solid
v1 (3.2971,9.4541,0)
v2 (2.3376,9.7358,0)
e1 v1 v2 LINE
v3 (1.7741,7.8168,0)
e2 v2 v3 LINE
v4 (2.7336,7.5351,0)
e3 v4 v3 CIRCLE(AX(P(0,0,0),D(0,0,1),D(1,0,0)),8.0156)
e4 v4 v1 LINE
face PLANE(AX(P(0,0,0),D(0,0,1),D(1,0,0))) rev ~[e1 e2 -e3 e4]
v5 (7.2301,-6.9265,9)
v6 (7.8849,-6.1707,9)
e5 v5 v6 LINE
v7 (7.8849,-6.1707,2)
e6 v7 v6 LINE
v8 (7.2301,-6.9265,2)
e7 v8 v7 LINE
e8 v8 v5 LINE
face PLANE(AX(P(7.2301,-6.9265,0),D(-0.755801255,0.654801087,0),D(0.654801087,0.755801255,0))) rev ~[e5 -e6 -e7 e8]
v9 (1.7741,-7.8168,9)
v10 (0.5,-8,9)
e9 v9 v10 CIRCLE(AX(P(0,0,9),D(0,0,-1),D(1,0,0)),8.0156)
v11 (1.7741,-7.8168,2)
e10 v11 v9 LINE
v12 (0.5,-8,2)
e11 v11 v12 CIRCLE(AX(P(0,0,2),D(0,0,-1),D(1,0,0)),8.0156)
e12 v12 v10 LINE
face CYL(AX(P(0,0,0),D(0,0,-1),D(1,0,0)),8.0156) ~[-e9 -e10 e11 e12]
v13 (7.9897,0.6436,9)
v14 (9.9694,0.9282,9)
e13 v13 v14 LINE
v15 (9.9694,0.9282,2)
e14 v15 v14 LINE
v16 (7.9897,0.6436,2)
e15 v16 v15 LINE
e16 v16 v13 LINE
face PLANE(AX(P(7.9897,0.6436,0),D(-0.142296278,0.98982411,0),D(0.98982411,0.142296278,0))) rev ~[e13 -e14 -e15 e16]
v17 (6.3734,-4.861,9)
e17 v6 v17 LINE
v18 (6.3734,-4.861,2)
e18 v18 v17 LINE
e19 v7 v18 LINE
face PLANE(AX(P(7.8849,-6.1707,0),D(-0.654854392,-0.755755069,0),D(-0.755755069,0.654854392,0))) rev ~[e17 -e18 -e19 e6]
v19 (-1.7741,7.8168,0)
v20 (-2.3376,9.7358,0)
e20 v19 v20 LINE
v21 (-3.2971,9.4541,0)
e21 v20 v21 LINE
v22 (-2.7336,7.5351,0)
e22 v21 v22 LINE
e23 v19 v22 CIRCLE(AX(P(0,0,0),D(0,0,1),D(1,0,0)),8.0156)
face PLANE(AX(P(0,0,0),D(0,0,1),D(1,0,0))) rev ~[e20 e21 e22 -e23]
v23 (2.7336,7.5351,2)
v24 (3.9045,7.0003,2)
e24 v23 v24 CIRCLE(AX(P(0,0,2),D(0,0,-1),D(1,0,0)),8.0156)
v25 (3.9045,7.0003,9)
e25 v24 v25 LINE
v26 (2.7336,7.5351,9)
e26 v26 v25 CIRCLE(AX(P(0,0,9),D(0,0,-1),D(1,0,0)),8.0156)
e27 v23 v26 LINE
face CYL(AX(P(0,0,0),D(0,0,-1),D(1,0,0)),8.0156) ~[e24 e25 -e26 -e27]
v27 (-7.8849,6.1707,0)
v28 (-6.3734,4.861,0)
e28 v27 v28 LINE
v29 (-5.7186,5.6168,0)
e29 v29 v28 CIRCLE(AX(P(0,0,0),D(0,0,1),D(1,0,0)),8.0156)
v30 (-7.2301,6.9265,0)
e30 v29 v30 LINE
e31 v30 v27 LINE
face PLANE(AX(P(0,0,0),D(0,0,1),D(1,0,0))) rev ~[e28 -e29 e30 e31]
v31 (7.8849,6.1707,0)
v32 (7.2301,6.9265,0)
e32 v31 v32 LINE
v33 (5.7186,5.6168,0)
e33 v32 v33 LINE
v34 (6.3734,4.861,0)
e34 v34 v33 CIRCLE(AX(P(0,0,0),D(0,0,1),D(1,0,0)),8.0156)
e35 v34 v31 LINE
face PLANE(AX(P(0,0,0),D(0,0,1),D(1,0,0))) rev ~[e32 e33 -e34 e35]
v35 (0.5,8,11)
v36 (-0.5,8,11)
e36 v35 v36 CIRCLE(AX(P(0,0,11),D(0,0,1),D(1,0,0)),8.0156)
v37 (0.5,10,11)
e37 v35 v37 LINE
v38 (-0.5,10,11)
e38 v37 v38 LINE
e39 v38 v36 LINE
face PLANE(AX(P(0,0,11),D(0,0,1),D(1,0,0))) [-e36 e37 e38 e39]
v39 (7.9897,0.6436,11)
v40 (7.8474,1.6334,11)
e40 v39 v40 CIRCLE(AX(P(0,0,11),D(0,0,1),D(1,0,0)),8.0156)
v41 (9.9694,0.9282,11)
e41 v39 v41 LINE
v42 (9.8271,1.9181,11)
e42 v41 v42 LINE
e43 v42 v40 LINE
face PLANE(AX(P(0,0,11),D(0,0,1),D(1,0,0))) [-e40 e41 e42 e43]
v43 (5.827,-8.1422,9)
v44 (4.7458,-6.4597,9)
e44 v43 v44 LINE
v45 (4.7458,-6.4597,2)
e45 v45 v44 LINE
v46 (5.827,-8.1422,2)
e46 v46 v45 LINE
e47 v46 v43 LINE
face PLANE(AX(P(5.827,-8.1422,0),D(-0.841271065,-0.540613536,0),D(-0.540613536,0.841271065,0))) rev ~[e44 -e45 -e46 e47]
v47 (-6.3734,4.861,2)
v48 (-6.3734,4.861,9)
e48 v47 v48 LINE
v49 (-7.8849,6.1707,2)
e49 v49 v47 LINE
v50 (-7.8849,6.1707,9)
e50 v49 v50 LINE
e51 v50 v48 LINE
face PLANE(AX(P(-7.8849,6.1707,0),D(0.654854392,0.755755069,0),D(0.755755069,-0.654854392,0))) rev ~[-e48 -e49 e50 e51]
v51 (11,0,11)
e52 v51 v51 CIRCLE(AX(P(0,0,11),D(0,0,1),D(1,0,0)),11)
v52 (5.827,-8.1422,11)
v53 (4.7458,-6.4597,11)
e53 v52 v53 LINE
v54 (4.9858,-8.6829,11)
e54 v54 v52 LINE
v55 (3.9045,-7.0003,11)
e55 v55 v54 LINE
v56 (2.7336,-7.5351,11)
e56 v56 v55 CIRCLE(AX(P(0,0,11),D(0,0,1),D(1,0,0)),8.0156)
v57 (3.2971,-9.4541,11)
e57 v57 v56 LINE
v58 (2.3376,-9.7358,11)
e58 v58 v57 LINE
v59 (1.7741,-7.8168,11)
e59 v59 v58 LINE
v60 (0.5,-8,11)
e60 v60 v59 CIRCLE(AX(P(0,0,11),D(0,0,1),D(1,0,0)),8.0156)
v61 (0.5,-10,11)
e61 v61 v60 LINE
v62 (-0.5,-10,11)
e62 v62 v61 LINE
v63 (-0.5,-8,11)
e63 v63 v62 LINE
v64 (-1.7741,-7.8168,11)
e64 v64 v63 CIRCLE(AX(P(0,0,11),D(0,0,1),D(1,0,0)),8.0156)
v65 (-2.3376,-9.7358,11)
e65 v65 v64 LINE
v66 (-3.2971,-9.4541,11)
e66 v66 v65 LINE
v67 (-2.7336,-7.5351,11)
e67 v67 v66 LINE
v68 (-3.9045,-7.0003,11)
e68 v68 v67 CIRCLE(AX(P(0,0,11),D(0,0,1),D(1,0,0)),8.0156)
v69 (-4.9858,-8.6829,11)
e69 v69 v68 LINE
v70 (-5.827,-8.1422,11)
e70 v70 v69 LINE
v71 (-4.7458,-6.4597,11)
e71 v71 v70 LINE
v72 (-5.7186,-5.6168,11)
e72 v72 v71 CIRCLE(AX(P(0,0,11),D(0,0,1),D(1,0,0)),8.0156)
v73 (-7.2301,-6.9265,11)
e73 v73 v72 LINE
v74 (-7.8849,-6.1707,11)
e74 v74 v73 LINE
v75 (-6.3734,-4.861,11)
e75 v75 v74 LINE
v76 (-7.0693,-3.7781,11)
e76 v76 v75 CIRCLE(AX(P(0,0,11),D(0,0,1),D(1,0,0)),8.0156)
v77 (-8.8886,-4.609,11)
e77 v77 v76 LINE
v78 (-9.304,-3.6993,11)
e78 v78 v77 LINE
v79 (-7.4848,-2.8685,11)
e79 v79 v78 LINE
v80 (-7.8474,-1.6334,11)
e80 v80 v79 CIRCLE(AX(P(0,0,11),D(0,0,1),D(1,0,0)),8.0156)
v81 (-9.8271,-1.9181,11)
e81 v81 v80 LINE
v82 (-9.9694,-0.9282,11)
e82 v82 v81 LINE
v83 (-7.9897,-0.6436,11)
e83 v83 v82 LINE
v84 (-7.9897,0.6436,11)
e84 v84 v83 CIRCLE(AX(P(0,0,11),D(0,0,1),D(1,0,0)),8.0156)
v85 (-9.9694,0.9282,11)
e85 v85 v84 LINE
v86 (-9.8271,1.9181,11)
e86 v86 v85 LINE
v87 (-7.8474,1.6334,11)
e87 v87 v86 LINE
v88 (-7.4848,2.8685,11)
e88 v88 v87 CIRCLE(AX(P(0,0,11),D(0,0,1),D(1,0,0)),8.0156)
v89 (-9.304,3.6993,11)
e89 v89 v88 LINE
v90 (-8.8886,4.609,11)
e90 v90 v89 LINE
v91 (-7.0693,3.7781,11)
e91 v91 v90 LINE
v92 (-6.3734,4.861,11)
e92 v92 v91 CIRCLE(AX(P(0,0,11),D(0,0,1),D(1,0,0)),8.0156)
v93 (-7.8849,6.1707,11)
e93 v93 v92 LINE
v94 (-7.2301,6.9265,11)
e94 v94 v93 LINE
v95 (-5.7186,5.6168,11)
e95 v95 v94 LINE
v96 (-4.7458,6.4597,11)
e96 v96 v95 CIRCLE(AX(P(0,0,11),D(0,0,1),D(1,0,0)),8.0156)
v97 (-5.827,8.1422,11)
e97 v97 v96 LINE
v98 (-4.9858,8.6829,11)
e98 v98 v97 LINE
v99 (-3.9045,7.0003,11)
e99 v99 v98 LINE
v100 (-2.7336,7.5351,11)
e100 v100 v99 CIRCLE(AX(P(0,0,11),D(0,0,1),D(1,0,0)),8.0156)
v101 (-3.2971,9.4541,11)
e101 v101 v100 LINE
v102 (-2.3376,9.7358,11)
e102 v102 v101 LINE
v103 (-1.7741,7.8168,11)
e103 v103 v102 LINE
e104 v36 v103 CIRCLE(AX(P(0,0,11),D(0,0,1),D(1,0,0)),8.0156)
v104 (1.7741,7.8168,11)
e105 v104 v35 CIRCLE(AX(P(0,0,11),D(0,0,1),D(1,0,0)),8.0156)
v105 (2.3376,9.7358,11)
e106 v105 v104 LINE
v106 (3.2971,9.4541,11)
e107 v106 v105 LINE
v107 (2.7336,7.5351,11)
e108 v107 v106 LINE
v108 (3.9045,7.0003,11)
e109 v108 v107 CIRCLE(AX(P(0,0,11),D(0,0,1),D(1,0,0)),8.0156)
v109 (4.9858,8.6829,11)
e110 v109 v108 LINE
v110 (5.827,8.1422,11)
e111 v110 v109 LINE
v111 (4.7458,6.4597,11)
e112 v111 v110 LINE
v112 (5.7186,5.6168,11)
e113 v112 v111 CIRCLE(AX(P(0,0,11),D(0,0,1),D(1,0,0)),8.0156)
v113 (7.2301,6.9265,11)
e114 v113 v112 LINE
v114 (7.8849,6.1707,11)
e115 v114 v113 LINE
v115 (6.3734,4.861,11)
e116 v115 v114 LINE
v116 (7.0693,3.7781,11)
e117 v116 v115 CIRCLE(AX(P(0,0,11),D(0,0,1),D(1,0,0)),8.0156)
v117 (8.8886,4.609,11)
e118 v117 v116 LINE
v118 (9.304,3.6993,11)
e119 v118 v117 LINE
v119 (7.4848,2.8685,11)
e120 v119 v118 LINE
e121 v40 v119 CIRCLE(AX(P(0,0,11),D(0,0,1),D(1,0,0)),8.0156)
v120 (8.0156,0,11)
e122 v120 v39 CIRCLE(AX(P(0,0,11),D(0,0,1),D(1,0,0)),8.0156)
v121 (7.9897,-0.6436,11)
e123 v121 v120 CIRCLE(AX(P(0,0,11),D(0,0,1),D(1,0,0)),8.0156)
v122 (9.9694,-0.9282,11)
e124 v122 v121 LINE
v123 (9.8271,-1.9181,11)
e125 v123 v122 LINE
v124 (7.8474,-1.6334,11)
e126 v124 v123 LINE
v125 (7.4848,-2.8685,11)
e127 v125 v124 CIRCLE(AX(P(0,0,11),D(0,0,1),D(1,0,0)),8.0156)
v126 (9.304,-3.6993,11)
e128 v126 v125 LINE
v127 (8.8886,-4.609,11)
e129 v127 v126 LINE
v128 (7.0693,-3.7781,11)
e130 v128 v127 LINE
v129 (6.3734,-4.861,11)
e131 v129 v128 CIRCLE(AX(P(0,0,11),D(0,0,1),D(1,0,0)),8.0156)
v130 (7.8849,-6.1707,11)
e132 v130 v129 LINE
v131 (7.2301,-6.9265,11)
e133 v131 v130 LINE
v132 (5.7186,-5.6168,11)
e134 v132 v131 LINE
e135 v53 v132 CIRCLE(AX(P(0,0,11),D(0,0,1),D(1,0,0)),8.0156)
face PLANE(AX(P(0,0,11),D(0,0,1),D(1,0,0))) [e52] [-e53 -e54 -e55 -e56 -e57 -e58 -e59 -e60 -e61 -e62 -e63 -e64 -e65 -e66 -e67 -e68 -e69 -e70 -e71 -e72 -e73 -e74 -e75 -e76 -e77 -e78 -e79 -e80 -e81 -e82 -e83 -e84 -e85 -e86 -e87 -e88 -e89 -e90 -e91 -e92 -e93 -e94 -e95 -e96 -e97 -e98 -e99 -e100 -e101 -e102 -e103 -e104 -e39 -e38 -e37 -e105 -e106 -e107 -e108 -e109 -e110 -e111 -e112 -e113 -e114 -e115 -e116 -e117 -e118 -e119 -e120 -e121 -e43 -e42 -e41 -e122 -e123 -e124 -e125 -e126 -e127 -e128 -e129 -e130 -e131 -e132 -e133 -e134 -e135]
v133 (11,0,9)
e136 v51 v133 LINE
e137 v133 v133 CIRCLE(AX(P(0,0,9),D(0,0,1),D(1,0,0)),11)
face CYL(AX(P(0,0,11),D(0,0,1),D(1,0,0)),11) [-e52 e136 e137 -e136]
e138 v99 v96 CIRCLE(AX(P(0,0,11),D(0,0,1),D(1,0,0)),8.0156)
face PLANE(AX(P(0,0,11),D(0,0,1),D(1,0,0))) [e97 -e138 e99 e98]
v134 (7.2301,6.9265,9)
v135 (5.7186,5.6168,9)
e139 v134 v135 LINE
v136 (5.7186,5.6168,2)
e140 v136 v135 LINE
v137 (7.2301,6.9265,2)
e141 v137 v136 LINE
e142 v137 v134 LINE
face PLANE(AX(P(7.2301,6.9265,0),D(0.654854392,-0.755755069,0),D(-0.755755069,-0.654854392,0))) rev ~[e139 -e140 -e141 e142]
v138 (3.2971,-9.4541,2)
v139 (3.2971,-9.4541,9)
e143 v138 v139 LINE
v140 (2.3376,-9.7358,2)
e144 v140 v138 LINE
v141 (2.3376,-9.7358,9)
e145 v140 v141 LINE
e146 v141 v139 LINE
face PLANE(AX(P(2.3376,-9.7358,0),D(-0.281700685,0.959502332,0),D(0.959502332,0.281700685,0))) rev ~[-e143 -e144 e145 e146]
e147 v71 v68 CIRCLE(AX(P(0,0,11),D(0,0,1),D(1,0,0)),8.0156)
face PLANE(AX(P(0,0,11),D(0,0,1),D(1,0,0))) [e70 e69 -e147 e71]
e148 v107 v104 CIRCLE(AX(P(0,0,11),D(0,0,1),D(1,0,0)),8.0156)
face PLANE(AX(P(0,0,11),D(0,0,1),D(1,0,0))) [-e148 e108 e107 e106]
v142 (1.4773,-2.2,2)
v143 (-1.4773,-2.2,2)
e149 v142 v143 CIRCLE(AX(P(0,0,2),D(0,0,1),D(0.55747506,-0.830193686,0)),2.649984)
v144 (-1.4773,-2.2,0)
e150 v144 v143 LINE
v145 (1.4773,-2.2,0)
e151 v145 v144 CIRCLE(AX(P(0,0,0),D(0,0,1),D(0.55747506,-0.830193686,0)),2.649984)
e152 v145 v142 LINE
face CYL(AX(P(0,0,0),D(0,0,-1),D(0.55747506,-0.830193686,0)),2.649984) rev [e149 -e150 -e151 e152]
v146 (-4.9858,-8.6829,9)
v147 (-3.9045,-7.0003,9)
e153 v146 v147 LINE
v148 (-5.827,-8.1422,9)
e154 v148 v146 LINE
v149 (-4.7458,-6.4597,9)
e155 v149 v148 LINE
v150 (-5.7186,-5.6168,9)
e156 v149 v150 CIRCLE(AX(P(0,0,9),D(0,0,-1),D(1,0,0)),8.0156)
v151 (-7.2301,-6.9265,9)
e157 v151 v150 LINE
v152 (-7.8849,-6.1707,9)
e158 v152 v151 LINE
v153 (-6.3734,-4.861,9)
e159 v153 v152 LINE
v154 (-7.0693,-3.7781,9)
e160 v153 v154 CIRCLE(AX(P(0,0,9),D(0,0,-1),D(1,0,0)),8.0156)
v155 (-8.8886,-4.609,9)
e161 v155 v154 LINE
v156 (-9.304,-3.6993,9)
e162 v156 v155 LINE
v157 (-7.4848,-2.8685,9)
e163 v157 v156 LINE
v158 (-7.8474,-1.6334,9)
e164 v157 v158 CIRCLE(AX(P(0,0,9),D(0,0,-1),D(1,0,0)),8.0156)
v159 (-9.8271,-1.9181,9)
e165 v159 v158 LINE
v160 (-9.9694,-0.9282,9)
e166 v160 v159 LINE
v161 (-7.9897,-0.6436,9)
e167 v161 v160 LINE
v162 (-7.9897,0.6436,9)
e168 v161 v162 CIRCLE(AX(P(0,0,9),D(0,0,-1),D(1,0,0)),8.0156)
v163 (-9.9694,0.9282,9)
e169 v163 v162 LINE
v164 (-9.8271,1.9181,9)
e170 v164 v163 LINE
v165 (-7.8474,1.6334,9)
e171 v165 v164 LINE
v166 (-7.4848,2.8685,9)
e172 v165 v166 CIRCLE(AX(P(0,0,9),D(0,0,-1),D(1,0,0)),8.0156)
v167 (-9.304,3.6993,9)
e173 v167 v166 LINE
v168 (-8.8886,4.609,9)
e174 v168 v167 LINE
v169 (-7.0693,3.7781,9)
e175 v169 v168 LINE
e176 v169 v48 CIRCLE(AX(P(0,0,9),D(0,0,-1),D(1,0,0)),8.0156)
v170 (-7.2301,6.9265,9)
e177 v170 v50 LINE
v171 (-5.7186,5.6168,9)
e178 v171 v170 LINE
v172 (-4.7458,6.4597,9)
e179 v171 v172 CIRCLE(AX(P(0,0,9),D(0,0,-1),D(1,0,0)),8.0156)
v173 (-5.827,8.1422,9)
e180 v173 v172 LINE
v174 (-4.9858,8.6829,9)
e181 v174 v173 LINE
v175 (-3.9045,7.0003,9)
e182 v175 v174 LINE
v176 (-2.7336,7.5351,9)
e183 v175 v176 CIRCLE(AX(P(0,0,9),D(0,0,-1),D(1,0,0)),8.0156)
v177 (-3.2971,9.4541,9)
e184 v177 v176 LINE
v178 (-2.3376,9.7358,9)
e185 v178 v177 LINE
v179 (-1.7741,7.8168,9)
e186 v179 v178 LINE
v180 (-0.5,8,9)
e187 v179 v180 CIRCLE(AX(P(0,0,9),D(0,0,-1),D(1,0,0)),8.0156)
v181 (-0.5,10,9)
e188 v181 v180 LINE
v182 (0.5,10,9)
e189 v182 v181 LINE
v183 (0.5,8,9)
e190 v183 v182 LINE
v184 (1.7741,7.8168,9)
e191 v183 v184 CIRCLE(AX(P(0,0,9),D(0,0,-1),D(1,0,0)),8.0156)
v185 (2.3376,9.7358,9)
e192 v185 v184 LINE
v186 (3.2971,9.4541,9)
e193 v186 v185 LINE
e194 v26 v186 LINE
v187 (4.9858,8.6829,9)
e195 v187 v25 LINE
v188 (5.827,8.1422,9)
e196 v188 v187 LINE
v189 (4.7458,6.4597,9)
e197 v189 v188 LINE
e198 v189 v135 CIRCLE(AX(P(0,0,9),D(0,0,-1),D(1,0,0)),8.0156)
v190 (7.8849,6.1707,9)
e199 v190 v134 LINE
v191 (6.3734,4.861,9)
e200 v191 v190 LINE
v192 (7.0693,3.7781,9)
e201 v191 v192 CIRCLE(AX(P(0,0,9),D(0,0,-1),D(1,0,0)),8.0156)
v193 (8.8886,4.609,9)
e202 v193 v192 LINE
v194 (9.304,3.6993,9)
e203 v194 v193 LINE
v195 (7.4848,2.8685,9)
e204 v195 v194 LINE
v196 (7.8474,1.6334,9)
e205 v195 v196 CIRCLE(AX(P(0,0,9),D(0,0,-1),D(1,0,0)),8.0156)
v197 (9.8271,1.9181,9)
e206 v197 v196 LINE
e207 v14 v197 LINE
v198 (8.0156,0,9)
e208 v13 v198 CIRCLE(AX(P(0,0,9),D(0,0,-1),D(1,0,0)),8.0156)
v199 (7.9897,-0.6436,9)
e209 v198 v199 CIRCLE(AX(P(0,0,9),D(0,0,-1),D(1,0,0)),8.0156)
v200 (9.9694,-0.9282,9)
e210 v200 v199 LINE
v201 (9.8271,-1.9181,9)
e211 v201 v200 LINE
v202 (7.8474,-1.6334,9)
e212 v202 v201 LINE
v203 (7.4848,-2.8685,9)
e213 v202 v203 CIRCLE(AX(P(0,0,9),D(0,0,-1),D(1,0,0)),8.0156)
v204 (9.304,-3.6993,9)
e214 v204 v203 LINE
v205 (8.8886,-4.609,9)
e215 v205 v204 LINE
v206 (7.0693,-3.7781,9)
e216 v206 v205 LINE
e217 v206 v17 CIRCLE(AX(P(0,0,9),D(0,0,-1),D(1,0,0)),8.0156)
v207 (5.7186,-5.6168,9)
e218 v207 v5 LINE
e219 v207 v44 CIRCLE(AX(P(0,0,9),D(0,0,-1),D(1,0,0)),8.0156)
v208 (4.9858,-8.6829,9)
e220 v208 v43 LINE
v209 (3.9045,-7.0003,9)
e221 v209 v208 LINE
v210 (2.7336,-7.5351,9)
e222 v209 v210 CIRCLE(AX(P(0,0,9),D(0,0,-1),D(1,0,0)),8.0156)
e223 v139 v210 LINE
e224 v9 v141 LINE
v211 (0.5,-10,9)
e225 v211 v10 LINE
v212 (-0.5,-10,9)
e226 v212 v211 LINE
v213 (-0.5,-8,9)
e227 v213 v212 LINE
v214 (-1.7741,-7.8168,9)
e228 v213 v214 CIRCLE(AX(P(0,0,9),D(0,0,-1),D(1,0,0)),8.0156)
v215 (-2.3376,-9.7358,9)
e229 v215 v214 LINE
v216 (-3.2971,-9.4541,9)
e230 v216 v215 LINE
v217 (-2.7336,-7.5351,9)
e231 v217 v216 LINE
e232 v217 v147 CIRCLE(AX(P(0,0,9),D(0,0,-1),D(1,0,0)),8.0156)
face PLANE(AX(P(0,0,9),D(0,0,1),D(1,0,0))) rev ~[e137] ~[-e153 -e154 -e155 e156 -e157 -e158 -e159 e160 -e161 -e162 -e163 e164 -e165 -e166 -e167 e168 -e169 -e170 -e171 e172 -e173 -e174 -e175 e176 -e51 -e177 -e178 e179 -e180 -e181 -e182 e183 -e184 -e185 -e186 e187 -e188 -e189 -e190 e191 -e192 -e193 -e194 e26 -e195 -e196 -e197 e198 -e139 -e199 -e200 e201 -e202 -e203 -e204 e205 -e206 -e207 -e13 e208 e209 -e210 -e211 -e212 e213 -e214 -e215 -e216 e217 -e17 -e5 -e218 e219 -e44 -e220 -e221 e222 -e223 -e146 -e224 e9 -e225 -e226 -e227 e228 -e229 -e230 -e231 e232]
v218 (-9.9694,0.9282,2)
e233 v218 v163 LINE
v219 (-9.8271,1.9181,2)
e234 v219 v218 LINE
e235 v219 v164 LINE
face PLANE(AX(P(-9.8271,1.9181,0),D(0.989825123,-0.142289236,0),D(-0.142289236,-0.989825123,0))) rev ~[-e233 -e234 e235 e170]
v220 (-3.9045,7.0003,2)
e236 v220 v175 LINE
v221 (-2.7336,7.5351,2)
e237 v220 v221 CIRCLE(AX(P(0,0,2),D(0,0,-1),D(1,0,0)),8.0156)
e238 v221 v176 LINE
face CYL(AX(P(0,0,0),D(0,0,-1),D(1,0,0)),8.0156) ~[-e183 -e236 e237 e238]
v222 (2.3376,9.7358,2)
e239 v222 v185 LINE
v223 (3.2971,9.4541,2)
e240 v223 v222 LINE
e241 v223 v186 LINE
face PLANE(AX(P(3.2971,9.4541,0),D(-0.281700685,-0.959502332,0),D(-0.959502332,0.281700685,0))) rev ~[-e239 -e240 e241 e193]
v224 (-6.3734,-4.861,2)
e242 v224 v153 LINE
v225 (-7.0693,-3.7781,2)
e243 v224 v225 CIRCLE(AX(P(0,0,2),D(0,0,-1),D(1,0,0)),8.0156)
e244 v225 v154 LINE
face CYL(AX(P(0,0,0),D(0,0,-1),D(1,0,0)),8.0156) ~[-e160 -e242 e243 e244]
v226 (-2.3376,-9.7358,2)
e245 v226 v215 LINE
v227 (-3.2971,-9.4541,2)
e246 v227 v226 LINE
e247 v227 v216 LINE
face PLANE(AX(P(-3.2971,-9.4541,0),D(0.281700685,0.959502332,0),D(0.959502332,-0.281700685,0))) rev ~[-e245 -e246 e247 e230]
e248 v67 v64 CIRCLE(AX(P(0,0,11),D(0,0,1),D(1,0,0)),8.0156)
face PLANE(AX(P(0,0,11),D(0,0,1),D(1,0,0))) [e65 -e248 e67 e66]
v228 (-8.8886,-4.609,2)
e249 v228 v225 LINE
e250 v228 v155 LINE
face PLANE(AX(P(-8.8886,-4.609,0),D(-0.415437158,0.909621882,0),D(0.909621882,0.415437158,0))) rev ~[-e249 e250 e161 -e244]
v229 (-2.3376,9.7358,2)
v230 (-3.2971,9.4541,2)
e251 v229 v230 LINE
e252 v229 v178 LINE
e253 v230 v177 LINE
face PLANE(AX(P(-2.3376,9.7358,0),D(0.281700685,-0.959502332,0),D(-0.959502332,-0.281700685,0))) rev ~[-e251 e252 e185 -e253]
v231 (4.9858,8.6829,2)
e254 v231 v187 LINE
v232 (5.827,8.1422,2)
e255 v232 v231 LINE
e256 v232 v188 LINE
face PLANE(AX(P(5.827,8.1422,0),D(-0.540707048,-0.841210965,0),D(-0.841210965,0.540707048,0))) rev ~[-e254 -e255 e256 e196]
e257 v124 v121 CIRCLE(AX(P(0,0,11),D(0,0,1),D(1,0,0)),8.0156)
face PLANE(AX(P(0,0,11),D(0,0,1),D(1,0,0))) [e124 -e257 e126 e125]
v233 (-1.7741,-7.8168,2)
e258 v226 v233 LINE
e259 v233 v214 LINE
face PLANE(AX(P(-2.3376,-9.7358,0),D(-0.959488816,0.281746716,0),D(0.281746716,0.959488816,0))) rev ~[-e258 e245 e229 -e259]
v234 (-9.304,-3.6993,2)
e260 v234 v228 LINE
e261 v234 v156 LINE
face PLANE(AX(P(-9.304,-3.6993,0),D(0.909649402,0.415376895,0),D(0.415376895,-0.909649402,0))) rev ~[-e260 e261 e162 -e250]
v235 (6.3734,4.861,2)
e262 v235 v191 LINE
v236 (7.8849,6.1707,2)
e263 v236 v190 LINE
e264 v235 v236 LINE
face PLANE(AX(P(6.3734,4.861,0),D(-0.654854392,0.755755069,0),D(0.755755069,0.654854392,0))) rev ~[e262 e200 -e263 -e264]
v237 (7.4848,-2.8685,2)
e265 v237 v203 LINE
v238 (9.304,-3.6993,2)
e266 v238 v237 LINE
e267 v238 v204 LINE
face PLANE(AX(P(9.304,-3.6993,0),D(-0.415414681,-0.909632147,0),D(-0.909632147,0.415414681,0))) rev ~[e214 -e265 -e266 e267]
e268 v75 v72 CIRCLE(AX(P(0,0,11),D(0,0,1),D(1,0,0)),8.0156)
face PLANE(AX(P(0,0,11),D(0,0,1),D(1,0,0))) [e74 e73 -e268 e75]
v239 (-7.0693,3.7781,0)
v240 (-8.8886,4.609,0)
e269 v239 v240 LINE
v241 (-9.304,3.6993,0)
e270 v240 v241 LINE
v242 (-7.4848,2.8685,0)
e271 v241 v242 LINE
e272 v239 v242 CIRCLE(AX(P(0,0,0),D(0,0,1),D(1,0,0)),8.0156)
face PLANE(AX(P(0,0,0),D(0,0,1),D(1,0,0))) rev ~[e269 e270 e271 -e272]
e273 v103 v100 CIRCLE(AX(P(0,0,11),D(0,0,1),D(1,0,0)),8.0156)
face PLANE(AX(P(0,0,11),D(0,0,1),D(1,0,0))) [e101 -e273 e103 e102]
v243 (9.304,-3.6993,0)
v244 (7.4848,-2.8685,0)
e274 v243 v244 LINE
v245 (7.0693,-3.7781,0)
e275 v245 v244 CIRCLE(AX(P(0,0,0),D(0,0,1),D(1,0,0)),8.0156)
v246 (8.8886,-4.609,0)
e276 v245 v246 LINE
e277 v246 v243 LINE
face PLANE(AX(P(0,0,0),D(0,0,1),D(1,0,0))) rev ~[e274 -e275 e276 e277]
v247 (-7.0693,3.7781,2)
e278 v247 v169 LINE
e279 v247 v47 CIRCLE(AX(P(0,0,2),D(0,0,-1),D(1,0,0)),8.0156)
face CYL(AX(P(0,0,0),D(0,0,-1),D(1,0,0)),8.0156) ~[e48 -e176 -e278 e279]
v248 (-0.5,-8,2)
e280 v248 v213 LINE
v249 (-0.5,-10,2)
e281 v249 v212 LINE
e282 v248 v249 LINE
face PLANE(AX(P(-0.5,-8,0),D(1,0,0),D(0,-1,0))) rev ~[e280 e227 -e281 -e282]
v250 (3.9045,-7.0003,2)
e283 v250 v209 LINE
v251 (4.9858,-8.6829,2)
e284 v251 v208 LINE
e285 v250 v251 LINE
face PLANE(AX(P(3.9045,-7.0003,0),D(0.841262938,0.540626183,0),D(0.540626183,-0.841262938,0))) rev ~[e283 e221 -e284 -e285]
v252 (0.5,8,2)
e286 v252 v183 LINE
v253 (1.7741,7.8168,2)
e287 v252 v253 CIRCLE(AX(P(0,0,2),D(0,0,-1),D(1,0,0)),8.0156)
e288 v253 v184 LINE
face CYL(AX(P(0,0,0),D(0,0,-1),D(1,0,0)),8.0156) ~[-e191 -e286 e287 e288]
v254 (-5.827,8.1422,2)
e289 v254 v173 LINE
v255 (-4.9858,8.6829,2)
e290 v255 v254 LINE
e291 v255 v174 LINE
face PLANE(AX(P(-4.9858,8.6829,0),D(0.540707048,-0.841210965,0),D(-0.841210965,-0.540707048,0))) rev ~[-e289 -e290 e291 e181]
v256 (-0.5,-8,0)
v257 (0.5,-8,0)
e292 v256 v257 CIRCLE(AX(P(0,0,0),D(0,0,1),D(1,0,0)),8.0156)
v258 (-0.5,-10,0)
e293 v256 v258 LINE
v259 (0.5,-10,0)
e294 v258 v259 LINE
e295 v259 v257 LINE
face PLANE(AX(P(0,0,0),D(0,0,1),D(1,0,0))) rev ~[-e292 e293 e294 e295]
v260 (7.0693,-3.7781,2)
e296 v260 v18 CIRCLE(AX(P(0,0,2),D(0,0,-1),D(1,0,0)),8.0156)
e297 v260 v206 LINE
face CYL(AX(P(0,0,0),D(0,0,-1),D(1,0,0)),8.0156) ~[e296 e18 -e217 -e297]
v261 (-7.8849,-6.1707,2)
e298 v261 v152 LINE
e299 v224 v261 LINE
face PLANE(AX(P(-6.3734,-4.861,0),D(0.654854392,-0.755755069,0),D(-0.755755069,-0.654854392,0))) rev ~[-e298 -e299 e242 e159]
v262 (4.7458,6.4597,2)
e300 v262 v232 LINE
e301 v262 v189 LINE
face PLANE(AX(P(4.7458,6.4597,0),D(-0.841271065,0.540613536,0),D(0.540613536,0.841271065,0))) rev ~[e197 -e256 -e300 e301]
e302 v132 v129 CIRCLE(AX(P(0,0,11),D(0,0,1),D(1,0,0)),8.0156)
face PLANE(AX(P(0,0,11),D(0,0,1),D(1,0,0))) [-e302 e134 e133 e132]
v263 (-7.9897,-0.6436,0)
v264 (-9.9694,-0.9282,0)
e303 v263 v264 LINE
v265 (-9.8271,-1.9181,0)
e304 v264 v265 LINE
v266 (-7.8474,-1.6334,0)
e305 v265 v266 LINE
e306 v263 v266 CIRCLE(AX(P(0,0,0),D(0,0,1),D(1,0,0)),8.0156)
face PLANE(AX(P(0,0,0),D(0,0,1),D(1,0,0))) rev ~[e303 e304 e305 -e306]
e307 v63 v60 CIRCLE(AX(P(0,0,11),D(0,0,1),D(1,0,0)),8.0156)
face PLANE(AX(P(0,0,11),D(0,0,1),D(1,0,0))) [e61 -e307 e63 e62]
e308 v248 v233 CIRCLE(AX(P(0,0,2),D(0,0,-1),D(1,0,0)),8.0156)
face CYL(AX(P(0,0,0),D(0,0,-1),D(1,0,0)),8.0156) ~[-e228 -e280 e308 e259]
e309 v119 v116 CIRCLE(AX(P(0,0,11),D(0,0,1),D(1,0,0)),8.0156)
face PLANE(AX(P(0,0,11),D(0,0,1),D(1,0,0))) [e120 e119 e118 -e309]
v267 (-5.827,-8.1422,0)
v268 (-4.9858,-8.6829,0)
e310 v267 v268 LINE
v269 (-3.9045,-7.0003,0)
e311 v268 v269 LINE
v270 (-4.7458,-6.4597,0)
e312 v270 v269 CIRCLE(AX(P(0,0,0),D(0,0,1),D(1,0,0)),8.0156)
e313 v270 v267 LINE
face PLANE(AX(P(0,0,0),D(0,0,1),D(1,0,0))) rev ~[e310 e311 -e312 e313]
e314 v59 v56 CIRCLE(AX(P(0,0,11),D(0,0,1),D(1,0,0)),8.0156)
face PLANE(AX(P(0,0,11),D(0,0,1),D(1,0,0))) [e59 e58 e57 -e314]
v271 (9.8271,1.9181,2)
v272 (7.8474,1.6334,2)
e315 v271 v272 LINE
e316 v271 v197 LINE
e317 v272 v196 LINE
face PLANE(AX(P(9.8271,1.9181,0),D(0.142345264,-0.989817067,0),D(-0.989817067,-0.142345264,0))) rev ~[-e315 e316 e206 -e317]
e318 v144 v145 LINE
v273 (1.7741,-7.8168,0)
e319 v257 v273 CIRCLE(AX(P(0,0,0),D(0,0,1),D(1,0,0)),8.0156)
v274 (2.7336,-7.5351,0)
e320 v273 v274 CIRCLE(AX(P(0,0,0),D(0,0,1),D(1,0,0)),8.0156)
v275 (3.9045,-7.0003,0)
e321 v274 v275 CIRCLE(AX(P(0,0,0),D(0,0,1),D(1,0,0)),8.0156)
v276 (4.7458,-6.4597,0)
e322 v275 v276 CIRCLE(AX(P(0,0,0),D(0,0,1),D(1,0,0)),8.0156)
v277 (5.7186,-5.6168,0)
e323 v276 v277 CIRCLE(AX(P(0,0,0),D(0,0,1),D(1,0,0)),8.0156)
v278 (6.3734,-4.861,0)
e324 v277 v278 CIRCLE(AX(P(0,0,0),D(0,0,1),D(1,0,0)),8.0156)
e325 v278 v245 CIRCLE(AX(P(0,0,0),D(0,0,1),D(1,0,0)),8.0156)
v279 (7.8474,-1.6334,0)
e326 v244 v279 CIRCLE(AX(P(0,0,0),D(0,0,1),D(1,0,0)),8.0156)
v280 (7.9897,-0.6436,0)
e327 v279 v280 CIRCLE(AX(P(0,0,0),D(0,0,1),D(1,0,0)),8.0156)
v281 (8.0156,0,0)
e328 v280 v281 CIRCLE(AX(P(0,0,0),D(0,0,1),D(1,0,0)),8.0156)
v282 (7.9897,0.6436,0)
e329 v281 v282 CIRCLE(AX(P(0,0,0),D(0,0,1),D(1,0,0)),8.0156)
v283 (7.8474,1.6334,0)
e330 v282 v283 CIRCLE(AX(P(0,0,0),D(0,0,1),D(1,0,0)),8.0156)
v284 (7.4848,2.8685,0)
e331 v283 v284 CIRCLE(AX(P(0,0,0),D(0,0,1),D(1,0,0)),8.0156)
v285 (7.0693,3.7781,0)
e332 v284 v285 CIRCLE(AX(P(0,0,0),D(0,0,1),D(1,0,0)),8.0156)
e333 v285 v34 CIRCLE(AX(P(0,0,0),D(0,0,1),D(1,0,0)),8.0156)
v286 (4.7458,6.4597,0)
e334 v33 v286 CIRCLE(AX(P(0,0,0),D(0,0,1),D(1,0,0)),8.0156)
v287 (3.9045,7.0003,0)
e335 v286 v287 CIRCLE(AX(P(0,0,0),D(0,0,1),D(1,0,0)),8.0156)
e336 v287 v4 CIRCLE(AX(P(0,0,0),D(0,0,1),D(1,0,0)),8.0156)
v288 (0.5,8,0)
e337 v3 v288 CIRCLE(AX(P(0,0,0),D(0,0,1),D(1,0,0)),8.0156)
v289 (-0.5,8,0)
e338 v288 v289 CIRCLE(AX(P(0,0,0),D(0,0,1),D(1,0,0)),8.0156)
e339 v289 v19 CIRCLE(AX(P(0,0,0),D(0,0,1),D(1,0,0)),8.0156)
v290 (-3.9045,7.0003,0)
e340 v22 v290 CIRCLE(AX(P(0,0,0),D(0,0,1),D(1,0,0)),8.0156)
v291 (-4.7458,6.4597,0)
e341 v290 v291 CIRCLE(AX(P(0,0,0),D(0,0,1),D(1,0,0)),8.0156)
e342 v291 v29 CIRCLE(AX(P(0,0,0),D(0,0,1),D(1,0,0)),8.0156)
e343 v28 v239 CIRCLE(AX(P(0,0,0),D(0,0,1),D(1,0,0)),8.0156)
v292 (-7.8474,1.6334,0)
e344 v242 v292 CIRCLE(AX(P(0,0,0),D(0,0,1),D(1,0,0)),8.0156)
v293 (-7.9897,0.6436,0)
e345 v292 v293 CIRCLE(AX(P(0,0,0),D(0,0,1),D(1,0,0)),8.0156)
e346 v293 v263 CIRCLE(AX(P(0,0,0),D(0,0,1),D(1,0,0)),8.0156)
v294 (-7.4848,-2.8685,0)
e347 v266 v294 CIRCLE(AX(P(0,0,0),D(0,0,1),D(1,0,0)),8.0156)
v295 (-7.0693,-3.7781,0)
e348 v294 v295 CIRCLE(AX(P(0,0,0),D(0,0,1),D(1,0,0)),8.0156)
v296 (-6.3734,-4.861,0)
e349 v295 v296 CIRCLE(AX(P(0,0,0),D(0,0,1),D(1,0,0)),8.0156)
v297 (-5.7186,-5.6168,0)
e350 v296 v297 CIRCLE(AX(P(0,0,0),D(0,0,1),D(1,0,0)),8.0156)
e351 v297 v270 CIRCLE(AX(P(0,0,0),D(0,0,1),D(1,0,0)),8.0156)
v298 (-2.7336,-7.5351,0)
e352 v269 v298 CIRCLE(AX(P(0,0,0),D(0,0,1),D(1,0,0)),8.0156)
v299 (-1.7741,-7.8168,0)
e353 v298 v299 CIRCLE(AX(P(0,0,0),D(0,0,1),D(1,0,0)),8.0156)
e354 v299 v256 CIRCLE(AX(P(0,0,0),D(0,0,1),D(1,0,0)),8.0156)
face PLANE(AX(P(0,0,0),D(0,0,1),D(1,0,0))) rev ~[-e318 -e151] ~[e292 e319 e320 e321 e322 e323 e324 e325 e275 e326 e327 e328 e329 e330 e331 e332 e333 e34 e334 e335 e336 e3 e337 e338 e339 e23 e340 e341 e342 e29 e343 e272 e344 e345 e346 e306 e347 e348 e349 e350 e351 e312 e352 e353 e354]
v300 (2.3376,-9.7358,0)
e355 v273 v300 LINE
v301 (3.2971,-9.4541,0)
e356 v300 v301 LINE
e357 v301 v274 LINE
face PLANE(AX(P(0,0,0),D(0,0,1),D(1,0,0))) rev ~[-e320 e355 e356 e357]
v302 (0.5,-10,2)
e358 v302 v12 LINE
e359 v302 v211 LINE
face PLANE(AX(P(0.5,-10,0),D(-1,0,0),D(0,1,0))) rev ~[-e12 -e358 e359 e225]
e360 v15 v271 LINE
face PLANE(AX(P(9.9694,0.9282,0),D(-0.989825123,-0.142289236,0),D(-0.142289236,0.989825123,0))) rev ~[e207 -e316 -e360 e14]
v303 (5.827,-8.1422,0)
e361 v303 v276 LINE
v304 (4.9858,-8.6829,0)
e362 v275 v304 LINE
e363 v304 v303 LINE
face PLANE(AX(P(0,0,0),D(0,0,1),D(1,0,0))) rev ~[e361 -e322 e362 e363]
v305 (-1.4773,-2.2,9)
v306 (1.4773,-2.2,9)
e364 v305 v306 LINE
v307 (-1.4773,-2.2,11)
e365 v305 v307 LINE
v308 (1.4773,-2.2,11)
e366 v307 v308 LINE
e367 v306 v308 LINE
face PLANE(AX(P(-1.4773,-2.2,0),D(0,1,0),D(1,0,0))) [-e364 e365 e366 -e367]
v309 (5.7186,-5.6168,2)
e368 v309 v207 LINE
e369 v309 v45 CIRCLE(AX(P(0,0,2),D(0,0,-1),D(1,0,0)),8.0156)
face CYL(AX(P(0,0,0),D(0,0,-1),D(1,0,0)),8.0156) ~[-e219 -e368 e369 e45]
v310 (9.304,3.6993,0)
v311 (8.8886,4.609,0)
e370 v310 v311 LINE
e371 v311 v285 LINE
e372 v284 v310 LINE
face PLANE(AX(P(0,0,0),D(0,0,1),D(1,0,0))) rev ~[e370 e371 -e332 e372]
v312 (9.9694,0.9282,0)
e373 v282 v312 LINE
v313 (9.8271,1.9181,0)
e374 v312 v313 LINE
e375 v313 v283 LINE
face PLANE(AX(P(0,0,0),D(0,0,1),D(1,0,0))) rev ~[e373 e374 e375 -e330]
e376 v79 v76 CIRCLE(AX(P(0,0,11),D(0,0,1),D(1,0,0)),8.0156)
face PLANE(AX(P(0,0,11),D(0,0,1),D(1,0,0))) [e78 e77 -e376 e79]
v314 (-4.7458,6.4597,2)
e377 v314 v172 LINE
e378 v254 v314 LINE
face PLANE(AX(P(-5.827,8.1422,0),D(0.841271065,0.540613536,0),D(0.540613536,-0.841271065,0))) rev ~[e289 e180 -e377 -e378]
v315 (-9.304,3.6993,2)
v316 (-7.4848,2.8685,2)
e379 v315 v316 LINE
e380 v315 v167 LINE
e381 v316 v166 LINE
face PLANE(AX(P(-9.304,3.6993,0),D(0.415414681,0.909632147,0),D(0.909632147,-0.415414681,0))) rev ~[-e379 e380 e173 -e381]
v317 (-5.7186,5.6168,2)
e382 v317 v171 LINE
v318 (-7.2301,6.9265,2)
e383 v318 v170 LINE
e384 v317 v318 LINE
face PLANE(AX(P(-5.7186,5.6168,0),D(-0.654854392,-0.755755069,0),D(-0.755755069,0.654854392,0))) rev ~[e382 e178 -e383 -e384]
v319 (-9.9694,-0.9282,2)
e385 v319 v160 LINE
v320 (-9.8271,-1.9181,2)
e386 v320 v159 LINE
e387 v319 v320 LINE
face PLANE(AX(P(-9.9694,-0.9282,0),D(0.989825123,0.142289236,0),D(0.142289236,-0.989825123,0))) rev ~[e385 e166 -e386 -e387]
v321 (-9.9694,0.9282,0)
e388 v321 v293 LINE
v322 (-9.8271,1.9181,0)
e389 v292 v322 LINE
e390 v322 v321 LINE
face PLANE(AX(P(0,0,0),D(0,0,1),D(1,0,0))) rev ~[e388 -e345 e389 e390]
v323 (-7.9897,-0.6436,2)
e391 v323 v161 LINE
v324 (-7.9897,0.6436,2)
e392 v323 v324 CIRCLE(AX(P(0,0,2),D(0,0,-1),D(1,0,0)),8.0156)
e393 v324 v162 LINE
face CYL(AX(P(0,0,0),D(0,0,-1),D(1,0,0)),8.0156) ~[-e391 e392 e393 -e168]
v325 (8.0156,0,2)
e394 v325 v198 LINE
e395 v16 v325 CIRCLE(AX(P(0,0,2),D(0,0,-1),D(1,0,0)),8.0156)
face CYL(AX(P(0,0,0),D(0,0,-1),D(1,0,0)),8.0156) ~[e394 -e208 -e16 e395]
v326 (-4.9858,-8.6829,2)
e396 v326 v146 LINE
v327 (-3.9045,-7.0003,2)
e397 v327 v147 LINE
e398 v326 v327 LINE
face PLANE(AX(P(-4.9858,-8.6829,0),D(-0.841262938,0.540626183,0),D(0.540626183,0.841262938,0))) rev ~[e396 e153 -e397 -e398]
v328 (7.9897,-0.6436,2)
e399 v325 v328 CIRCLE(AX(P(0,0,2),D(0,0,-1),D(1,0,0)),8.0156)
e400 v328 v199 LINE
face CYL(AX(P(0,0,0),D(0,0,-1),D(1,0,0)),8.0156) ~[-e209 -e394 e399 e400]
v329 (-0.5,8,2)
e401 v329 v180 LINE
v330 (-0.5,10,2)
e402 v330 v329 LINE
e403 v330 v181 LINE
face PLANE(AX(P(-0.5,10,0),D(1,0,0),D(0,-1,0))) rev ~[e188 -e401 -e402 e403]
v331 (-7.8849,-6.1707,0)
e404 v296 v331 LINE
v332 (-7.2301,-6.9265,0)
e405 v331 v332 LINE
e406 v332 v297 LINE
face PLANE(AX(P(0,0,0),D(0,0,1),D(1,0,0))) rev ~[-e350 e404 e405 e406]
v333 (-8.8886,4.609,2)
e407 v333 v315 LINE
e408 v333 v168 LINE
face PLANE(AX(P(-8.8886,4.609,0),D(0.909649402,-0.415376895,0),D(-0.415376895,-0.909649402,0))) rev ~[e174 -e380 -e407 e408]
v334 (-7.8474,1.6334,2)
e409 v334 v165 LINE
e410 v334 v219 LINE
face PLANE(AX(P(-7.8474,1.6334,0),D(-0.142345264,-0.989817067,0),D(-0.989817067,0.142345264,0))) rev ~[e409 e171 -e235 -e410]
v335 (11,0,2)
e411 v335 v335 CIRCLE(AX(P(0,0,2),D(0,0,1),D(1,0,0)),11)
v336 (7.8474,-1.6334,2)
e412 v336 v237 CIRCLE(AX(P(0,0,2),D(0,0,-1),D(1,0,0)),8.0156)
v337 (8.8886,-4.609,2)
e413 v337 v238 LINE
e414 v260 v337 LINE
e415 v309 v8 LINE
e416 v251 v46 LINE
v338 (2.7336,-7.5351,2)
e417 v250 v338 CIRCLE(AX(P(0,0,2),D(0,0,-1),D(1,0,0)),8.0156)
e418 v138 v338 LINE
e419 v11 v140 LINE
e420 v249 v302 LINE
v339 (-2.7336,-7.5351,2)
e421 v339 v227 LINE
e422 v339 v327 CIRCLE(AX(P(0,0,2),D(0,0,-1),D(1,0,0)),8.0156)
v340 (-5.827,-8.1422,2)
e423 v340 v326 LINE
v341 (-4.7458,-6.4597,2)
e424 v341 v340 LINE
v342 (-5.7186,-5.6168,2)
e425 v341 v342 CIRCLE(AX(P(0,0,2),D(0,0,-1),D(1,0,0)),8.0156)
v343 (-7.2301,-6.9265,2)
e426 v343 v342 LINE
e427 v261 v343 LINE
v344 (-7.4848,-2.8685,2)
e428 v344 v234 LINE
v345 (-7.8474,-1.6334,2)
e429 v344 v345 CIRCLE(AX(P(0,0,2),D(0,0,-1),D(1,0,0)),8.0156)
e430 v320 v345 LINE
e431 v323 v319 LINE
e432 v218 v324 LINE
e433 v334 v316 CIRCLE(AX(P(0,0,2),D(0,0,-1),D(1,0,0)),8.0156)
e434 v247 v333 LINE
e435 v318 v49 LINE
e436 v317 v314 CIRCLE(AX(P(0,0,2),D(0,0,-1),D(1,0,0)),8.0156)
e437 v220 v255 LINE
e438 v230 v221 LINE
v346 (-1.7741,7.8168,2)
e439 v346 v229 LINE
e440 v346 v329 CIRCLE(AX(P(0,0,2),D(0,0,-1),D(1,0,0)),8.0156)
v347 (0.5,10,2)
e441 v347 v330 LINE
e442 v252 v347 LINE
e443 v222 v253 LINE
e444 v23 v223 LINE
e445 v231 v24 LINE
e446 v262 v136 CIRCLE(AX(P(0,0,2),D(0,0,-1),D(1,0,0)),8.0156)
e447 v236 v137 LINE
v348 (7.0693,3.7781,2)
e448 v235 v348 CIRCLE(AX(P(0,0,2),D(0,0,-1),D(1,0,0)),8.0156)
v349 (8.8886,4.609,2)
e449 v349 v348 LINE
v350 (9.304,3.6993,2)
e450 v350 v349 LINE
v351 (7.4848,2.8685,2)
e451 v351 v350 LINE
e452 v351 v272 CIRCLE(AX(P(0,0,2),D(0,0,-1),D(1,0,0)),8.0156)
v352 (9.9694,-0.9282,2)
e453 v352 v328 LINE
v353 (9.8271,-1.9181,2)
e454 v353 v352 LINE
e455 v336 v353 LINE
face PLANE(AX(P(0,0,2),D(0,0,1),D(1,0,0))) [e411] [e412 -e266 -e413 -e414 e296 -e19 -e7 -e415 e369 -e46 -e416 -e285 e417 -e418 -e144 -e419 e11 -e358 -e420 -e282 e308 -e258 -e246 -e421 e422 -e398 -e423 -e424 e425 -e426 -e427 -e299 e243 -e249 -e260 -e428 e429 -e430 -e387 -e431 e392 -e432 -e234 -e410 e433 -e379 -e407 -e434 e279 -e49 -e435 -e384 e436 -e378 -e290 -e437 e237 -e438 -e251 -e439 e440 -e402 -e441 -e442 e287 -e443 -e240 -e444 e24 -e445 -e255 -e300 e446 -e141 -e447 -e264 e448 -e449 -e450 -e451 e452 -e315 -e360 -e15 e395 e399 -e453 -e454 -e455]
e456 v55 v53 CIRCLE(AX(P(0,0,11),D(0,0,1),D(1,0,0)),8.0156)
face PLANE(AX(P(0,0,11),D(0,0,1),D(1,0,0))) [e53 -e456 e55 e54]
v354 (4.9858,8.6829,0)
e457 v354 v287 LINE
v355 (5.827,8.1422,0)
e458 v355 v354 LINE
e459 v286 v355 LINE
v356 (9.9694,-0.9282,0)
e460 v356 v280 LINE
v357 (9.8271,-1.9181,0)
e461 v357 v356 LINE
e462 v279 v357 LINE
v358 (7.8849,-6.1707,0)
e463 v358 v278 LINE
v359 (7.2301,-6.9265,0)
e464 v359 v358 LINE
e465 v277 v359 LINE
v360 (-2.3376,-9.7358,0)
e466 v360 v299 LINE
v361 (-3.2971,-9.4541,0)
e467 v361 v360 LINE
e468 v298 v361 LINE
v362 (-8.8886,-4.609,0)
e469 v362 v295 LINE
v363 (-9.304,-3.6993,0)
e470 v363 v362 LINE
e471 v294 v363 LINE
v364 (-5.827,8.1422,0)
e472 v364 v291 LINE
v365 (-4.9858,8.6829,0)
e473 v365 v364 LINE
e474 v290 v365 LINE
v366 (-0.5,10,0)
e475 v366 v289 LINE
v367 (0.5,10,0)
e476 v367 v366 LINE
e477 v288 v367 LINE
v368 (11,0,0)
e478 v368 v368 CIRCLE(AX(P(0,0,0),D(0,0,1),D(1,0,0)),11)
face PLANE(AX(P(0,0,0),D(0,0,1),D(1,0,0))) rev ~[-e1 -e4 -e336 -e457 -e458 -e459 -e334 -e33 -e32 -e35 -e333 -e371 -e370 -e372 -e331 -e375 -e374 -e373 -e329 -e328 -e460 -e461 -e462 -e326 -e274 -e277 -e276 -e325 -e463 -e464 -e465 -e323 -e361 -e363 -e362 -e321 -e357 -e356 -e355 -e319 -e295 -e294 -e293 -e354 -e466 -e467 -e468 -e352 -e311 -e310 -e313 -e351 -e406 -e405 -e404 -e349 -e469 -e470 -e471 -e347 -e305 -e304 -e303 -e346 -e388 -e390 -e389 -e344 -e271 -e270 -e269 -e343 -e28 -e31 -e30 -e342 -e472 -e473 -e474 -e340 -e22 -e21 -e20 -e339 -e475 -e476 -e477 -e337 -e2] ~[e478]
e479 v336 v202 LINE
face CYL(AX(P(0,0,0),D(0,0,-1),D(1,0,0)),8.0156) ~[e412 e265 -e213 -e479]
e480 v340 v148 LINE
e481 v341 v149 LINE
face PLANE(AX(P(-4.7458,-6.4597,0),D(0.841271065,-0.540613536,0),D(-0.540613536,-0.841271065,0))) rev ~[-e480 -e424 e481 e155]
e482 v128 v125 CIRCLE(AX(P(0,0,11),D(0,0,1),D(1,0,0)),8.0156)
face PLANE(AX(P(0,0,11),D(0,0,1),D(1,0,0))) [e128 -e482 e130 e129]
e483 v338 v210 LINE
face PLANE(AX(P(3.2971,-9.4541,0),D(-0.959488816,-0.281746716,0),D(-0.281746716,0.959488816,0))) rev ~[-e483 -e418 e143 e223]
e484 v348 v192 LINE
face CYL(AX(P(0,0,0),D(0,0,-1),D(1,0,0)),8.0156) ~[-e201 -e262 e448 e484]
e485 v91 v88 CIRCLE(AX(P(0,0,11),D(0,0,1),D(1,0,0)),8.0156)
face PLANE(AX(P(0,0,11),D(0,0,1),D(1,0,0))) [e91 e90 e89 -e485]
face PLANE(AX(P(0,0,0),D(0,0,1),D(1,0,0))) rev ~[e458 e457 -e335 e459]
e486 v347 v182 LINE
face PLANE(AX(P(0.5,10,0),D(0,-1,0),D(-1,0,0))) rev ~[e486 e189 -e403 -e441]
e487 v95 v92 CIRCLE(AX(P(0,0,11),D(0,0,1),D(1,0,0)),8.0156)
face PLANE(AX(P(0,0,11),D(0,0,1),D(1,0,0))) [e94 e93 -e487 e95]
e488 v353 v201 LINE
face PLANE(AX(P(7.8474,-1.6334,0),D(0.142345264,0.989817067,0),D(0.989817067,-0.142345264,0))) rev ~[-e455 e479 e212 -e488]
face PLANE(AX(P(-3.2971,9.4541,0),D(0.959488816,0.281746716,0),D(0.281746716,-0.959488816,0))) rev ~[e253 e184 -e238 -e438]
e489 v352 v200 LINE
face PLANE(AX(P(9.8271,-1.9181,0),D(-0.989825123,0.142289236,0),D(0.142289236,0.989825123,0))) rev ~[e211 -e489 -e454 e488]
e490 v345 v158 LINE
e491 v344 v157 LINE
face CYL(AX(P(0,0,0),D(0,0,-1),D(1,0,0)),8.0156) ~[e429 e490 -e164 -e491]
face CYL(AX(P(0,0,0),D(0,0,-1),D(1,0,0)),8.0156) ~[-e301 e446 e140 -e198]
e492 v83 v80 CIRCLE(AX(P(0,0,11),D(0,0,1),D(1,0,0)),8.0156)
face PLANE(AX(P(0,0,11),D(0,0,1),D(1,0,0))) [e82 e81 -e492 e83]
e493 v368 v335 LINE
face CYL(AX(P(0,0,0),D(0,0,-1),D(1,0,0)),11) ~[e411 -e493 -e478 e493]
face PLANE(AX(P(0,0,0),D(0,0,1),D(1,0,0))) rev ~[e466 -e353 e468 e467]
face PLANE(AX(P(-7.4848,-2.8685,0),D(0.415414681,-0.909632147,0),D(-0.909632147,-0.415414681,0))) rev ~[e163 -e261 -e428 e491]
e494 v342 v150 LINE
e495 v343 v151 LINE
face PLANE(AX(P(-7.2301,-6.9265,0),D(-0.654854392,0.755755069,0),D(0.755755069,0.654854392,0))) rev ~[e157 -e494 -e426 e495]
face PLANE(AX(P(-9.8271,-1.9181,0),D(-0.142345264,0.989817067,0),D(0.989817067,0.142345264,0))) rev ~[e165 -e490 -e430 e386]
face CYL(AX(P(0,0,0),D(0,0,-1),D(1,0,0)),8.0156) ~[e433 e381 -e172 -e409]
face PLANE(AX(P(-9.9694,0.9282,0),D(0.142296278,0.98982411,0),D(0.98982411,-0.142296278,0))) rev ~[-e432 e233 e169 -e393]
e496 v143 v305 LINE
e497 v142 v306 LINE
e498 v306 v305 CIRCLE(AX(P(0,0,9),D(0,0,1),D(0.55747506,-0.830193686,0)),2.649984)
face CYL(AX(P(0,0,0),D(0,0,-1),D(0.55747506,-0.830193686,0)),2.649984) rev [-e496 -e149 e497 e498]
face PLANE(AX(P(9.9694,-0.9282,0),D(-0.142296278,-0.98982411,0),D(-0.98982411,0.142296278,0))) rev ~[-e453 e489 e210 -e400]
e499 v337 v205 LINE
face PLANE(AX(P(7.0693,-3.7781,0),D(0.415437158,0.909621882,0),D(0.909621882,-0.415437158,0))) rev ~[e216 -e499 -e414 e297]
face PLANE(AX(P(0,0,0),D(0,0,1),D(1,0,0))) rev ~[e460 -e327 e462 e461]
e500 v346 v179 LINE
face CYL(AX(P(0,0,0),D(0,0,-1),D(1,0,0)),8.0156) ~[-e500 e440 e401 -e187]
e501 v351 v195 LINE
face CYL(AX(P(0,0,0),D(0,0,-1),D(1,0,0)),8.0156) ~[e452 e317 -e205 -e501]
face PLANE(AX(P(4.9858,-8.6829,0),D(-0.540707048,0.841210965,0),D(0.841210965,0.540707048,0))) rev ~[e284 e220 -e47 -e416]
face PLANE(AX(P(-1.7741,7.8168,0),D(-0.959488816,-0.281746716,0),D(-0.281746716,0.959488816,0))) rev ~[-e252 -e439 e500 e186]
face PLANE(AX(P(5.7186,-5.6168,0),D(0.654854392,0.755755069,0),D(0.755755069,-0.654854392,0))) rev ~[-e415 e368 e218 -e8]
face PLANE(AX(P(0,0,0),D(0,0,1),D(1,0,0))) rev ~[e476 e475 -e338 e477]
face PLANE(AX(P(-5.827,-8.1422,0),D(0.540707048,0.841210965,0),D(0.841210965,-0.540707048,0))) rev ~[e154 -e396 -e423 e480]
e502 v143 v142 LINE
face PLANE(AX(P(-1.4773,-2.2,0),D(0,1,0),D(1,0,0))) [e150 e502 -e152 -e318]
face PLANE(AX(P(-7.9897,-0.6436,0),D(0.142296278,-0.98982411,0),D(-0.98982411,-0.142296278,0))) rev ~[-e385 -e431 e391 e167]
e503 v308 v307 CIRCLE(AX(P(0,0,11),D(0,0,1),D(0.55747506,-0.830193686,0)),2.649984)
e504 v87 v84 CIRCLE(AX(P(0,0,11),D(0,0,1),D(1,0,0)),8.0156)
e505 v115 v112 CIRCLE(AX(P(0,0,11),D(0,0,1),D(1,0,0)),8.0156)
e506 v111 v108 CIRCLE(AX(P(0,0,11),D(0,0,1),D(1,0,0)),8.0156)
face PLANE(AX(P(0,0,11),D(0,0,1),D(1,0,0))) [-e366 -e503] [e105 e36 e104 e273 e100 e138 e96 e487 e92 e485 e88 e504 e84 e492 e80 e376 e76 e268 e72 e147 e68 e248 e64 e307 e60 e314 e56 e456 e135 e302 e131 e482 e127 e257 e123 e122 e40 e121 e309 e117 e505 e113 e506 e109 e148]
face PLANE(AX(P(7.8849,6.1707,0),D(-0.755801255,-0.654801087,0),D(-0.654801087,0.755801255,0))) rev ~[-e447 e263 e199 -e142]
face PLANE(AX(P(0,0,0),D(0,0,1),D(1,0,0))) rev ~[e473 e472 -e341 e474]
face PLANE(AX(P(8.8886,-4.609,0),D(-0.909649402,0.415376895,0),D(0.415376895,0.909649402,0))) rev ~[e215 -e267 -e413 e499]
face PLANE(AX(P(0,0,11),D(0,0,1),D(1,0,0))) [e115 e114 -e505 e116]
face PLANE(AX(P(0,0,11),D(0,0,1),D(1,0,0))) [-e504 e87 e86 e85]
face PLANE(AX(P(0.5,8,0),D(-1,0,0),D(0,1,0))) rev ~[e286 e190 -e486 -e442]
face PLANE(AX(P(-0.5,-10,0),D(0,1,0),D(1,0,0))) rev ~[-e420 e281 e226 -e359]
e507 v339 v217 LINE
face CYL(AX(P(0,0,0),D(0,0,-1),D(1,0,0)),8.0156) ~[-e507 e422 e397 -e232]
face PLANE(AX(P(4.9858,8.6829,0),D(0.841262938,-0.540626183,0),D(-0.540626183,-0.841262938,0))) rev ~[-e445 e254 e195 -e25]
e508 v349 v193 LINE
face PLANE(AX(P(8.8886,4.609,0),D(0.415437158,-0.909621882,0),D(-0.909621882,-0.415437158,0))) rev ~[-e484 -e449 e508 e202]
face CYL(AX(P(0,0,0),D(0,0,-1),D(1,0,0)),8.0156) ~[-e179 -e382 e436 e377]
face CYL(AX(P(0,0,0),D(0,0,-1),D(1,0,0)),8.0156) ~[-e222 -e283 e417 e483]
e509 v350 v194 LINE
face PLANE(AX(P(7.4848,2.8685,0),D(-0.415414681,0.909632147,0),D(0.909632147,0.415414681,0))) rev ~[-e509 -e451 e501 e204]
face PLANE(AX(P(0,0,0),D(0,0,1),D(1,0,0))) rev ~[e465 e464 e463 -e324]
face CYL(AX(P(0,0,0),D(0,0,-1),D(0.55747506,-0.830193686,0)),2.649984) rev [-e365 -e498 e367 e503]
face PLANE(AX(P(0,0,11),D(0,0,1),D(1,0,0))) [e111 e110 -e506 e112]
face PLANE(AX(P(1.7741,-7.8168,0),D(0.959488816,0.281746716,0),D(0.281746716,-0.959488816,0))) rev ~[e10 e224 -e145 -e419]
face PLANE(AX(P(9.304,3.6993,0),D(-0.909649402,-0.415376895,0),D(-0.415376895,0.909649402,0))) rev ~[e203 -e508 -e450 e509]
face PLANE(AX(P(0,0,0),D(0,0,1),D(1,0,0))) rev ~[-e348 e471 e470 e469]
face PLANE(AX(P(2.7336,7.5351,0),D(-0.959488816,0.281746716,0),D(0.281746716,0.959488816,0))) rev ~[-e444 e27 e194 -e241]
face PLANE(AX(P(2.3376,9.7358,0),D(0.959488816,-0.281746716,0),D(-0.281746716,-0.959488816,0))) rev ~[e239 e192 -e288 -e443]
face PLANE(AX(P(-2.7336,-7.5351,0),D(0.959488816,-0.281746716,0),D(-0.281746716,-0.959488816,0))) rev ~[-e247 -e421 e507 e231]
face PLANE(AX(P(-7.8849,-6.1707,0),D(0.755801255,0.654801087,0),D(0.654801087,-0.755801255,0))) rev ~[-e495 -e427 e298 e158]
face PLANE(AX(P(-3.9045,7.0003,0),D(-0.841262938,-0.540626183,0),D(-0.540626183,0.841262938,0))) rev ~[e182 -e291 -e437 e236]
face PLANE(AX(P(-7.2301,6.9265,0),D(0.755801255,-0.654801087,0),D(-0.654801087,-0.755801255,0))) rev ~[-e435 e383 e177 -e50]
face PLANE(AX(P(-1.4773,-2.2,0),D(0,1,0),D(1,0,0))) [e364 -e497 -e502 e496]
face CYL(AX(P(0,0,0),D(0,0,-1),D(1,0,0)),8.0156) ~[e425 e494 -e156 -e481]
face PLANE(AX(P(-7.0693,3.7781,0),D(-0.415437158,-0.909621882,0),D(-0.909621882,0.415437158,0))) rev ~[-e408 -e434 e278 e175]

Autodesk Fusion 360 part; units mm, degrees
sketch "Sketch1" plane through (0, 0, 0) normal (0, 0, 1) x (1, 0, 0)
  line L0 (0, 0) -> (0, 10) construction
  line L1 (0.5, 8) -> (0.5, 10)
  line L2 (0.5, 10) -> (-0.5, 10)
  line L3 (-0.5, 10) -> (-0.5, 8)
  circle A0 centre (0, 0) radius 8.0156
  line L4 (-3.2971, 9.4541) -> (-2.7336, 7.5351)
  line L5 (-2.3376, 9.7358) -> (-3.2971, 9.4541)
  line L6 (-1.7741, 7.8168) -> (-2.3376, 9.7358)
  line L7 (-5.827, 8.1422) -> (-4.7458, 6.4597)
  line L8 (-4.9858, 8.6829) -> (-5.827, 8.1422)
  line L9 (-3.9045, 7.0003) -> (-4.9858, 8.6829)
  line L10 (-7.8849, 6.1707) -> (-6.3734, 4.861)
  line L11 (-7.2301, 6.9265) -> (-7.8849, 6.1707)
  line L12 (-5.7186, 5.6168) -> (-7.2301, 6.9265)
  line L13 (-9.304, 3.6993) -> (-7.4848, 2.8685)
  line L14 (-8.8886, 4.609) -> (-9.304, 3.6993)
  line L15 (-7.0693, 3.7781) -> (-8.8886, 4.609)
  line L16 (-9.9694, 0.9282) -> (-7.9897, 0.6436)
  line L17 (-9.8271, 1.9181) -> (-9.9694, 0.9282)
  line L18 (-7.8474, 1.6334) -> (-9.8271, 1.9181)
  line L19 (-9.8271, -1.9181) -> (-7.8474, -1.6334)
  line L20 (-9.9694, -0.9282) -> (-9.8271, -1.9181)
  line L21 (-7.9897, -0.6436) -> (-9.9694, -0.9282)
  line L22 (-8.8886, -4.609) -> (-7.0693, -3.7781)
  line L23 (-9.304, -3.6993) -> (-8.8886, -4.609)
  line L24 (-7.4848, -2.8685) -> (-9.304, -3.6993)
  line L25 (-7.2301, -6.9265) -> (-5.7186, -5.6168)
  line L26 (-7.8849, -6.1707) -> (-7.2301, -6.9265)
  line L27 (-6.3734, -4.861) -> (-7.8849, -6.1707)
  line L28 (-4.9858, -8.6829) -> (-3.9045, -7.0003)
  line L29 (-5.827, -8.1422) -> (-4.9858, -8.6829)
  line L30 (-4.7458, -6.4597) -> (-5.827, -8.1422)
  line L31 (-2.3376, -9.7358) -> (-1.7741, -7.8168)
  line L32 (-3.2971, -9.4541) -> (-2.3376, -9.7358)
  line L33 (-2.7336, -7.5351) -> (-3.2971, -9.4541)
  line L34 (0.5, -10) -> (0.5, -8)
  line L35 (-0.5, -10) -> (0.5, -10)
  line L36 (-0.5, -8) -> (-0.5, -10)
  line L37 (3.2971, -9.4541) -> (2.7336, -7.5351)
  line L38 (2.3376, -9.7358) -> (3.2971, -9.4541)
  line L39 (1.7741, -7.8168) -> (2.3376, -9.7358)
  line L40 (5.827, -8.1422) -> (4.7458, -6.4597)
  line L41 (4.9858, -8.6829) -> (5.827, -8.1422)
  line L42 (3.9045, -7.0003) -> (4.9858, -8.6829)
  line L43 (7.8849, -6.1707) -> (6.3734, -4.861)
  line L44 (7.2301, -6.9265) -> (7.8849, -6.1707)
  line L45 (5.7186, -5.6168) -> (7.2301, -6.9265)
  line L46 (9.304, -3.6993) -> (7.4848, -2.8685)
  line L47 (8.8886, -4.609) -> (9.304, -3.6993)
  line L48 (7.0693, -3.7781) -> (8.8886, -4.609)
  line L49 (9.9694, -0.9282) -> (7.9897, -0.6436)
  line L50 (9.8271, -1.9181) -> (9.9694, -0.9282)
  line L51 (7.8474, -1.6334) -> (9.8271, -1.9181)
  line L52 (9.8271, 1.9181) -> (7.8474, 1.6334)
  line L53 (9.9694, 0.9282) -> (9.8271, 1.9181)
  line L54 (7.9897, 0.6436) -> (9.9694, 0.9282)
  line L55 (8.8886, 4.609) -> (7.0693, 3.7781)
  line L56 (9.304, 3.6993) -> (8.8886, 4.609)
  line L57 (7.4848, 2.8685) -> (9.304, 3.6993)
  line L58 (7.2301, 6.9265) -> (5.7186, 5.6168)
  line L59 (7.8849, 6.1707) -> (7.2301, 6.9265)
  line L60 (6.3734, 4.861) -> (7.8849, 6.1707)
  line L61 (-1.4773, -2.2) -> (1.4773, -2.2)
  arc A1 (1.4773, -2.2) -> (-1.4773, -2.2) centre (0, 0) ccw
  circle A2 centre (0, 0) radius 11
  line L62 (4.9858, 8.6829) -> (3.9045, 7.0003)
  line L63 (5.827, 8.1422) -> (4.9858, 8.6829)
  line L64 (4.7458, 6.4597) -> (5.827, 8.1422)
  line L65 (2.3376, 9.7358) -> (1.7741, 7.8168)
  line L66 (3.2971, 9.4541) -> (2.3376, 9.7358)
  line L67 (2.7336, 7.5351) -> (3.2971, 9.4541)
  dimension "d1" = 10
  dimension "d2" = 1
  dimension "d4" = 2
  dimension "d6" = 360
  dimension "d9" = 5.3
  dimension "d10" = 2.2
  dimension "d11" = 22
extrude "Extrude1" add sketch "Sketch1" along normal blind 11 contours L1 L2 L3 A0 | A0 | A0 L65 L66 L67 | A0 L4 L5 L6 | A0 L62 L63 L64 | A0 L7 L8 L9 | A0 L58 L59 L60 | A0 L10 L11 L12 | A0 L55 L56 L57 | A0 L13 L14 L15 | A0 L52 L53 L54 | A0 L16 L17 L18 | A0 L49 L50 L51 | A0 L19 L20 L21 | A0 L46 L47 L48 | A0 L22 L23 L24 | A0 L43 L44 L45 | A0 L25 L26 L27 | A0 L40 L41 L42 | A0 L28 L29 L30 | A0 L37 L38 L39 | A0 L31 L32 L33 | A0 L34 L35 L36
extrude "Extrude2" add sketch "Sketch1" along normal blind 2 contours A0 | A2
extrude "Extrude3" add sketch "Sketch1" against normal blind 2 from surface at 11 contours A0 | A2
